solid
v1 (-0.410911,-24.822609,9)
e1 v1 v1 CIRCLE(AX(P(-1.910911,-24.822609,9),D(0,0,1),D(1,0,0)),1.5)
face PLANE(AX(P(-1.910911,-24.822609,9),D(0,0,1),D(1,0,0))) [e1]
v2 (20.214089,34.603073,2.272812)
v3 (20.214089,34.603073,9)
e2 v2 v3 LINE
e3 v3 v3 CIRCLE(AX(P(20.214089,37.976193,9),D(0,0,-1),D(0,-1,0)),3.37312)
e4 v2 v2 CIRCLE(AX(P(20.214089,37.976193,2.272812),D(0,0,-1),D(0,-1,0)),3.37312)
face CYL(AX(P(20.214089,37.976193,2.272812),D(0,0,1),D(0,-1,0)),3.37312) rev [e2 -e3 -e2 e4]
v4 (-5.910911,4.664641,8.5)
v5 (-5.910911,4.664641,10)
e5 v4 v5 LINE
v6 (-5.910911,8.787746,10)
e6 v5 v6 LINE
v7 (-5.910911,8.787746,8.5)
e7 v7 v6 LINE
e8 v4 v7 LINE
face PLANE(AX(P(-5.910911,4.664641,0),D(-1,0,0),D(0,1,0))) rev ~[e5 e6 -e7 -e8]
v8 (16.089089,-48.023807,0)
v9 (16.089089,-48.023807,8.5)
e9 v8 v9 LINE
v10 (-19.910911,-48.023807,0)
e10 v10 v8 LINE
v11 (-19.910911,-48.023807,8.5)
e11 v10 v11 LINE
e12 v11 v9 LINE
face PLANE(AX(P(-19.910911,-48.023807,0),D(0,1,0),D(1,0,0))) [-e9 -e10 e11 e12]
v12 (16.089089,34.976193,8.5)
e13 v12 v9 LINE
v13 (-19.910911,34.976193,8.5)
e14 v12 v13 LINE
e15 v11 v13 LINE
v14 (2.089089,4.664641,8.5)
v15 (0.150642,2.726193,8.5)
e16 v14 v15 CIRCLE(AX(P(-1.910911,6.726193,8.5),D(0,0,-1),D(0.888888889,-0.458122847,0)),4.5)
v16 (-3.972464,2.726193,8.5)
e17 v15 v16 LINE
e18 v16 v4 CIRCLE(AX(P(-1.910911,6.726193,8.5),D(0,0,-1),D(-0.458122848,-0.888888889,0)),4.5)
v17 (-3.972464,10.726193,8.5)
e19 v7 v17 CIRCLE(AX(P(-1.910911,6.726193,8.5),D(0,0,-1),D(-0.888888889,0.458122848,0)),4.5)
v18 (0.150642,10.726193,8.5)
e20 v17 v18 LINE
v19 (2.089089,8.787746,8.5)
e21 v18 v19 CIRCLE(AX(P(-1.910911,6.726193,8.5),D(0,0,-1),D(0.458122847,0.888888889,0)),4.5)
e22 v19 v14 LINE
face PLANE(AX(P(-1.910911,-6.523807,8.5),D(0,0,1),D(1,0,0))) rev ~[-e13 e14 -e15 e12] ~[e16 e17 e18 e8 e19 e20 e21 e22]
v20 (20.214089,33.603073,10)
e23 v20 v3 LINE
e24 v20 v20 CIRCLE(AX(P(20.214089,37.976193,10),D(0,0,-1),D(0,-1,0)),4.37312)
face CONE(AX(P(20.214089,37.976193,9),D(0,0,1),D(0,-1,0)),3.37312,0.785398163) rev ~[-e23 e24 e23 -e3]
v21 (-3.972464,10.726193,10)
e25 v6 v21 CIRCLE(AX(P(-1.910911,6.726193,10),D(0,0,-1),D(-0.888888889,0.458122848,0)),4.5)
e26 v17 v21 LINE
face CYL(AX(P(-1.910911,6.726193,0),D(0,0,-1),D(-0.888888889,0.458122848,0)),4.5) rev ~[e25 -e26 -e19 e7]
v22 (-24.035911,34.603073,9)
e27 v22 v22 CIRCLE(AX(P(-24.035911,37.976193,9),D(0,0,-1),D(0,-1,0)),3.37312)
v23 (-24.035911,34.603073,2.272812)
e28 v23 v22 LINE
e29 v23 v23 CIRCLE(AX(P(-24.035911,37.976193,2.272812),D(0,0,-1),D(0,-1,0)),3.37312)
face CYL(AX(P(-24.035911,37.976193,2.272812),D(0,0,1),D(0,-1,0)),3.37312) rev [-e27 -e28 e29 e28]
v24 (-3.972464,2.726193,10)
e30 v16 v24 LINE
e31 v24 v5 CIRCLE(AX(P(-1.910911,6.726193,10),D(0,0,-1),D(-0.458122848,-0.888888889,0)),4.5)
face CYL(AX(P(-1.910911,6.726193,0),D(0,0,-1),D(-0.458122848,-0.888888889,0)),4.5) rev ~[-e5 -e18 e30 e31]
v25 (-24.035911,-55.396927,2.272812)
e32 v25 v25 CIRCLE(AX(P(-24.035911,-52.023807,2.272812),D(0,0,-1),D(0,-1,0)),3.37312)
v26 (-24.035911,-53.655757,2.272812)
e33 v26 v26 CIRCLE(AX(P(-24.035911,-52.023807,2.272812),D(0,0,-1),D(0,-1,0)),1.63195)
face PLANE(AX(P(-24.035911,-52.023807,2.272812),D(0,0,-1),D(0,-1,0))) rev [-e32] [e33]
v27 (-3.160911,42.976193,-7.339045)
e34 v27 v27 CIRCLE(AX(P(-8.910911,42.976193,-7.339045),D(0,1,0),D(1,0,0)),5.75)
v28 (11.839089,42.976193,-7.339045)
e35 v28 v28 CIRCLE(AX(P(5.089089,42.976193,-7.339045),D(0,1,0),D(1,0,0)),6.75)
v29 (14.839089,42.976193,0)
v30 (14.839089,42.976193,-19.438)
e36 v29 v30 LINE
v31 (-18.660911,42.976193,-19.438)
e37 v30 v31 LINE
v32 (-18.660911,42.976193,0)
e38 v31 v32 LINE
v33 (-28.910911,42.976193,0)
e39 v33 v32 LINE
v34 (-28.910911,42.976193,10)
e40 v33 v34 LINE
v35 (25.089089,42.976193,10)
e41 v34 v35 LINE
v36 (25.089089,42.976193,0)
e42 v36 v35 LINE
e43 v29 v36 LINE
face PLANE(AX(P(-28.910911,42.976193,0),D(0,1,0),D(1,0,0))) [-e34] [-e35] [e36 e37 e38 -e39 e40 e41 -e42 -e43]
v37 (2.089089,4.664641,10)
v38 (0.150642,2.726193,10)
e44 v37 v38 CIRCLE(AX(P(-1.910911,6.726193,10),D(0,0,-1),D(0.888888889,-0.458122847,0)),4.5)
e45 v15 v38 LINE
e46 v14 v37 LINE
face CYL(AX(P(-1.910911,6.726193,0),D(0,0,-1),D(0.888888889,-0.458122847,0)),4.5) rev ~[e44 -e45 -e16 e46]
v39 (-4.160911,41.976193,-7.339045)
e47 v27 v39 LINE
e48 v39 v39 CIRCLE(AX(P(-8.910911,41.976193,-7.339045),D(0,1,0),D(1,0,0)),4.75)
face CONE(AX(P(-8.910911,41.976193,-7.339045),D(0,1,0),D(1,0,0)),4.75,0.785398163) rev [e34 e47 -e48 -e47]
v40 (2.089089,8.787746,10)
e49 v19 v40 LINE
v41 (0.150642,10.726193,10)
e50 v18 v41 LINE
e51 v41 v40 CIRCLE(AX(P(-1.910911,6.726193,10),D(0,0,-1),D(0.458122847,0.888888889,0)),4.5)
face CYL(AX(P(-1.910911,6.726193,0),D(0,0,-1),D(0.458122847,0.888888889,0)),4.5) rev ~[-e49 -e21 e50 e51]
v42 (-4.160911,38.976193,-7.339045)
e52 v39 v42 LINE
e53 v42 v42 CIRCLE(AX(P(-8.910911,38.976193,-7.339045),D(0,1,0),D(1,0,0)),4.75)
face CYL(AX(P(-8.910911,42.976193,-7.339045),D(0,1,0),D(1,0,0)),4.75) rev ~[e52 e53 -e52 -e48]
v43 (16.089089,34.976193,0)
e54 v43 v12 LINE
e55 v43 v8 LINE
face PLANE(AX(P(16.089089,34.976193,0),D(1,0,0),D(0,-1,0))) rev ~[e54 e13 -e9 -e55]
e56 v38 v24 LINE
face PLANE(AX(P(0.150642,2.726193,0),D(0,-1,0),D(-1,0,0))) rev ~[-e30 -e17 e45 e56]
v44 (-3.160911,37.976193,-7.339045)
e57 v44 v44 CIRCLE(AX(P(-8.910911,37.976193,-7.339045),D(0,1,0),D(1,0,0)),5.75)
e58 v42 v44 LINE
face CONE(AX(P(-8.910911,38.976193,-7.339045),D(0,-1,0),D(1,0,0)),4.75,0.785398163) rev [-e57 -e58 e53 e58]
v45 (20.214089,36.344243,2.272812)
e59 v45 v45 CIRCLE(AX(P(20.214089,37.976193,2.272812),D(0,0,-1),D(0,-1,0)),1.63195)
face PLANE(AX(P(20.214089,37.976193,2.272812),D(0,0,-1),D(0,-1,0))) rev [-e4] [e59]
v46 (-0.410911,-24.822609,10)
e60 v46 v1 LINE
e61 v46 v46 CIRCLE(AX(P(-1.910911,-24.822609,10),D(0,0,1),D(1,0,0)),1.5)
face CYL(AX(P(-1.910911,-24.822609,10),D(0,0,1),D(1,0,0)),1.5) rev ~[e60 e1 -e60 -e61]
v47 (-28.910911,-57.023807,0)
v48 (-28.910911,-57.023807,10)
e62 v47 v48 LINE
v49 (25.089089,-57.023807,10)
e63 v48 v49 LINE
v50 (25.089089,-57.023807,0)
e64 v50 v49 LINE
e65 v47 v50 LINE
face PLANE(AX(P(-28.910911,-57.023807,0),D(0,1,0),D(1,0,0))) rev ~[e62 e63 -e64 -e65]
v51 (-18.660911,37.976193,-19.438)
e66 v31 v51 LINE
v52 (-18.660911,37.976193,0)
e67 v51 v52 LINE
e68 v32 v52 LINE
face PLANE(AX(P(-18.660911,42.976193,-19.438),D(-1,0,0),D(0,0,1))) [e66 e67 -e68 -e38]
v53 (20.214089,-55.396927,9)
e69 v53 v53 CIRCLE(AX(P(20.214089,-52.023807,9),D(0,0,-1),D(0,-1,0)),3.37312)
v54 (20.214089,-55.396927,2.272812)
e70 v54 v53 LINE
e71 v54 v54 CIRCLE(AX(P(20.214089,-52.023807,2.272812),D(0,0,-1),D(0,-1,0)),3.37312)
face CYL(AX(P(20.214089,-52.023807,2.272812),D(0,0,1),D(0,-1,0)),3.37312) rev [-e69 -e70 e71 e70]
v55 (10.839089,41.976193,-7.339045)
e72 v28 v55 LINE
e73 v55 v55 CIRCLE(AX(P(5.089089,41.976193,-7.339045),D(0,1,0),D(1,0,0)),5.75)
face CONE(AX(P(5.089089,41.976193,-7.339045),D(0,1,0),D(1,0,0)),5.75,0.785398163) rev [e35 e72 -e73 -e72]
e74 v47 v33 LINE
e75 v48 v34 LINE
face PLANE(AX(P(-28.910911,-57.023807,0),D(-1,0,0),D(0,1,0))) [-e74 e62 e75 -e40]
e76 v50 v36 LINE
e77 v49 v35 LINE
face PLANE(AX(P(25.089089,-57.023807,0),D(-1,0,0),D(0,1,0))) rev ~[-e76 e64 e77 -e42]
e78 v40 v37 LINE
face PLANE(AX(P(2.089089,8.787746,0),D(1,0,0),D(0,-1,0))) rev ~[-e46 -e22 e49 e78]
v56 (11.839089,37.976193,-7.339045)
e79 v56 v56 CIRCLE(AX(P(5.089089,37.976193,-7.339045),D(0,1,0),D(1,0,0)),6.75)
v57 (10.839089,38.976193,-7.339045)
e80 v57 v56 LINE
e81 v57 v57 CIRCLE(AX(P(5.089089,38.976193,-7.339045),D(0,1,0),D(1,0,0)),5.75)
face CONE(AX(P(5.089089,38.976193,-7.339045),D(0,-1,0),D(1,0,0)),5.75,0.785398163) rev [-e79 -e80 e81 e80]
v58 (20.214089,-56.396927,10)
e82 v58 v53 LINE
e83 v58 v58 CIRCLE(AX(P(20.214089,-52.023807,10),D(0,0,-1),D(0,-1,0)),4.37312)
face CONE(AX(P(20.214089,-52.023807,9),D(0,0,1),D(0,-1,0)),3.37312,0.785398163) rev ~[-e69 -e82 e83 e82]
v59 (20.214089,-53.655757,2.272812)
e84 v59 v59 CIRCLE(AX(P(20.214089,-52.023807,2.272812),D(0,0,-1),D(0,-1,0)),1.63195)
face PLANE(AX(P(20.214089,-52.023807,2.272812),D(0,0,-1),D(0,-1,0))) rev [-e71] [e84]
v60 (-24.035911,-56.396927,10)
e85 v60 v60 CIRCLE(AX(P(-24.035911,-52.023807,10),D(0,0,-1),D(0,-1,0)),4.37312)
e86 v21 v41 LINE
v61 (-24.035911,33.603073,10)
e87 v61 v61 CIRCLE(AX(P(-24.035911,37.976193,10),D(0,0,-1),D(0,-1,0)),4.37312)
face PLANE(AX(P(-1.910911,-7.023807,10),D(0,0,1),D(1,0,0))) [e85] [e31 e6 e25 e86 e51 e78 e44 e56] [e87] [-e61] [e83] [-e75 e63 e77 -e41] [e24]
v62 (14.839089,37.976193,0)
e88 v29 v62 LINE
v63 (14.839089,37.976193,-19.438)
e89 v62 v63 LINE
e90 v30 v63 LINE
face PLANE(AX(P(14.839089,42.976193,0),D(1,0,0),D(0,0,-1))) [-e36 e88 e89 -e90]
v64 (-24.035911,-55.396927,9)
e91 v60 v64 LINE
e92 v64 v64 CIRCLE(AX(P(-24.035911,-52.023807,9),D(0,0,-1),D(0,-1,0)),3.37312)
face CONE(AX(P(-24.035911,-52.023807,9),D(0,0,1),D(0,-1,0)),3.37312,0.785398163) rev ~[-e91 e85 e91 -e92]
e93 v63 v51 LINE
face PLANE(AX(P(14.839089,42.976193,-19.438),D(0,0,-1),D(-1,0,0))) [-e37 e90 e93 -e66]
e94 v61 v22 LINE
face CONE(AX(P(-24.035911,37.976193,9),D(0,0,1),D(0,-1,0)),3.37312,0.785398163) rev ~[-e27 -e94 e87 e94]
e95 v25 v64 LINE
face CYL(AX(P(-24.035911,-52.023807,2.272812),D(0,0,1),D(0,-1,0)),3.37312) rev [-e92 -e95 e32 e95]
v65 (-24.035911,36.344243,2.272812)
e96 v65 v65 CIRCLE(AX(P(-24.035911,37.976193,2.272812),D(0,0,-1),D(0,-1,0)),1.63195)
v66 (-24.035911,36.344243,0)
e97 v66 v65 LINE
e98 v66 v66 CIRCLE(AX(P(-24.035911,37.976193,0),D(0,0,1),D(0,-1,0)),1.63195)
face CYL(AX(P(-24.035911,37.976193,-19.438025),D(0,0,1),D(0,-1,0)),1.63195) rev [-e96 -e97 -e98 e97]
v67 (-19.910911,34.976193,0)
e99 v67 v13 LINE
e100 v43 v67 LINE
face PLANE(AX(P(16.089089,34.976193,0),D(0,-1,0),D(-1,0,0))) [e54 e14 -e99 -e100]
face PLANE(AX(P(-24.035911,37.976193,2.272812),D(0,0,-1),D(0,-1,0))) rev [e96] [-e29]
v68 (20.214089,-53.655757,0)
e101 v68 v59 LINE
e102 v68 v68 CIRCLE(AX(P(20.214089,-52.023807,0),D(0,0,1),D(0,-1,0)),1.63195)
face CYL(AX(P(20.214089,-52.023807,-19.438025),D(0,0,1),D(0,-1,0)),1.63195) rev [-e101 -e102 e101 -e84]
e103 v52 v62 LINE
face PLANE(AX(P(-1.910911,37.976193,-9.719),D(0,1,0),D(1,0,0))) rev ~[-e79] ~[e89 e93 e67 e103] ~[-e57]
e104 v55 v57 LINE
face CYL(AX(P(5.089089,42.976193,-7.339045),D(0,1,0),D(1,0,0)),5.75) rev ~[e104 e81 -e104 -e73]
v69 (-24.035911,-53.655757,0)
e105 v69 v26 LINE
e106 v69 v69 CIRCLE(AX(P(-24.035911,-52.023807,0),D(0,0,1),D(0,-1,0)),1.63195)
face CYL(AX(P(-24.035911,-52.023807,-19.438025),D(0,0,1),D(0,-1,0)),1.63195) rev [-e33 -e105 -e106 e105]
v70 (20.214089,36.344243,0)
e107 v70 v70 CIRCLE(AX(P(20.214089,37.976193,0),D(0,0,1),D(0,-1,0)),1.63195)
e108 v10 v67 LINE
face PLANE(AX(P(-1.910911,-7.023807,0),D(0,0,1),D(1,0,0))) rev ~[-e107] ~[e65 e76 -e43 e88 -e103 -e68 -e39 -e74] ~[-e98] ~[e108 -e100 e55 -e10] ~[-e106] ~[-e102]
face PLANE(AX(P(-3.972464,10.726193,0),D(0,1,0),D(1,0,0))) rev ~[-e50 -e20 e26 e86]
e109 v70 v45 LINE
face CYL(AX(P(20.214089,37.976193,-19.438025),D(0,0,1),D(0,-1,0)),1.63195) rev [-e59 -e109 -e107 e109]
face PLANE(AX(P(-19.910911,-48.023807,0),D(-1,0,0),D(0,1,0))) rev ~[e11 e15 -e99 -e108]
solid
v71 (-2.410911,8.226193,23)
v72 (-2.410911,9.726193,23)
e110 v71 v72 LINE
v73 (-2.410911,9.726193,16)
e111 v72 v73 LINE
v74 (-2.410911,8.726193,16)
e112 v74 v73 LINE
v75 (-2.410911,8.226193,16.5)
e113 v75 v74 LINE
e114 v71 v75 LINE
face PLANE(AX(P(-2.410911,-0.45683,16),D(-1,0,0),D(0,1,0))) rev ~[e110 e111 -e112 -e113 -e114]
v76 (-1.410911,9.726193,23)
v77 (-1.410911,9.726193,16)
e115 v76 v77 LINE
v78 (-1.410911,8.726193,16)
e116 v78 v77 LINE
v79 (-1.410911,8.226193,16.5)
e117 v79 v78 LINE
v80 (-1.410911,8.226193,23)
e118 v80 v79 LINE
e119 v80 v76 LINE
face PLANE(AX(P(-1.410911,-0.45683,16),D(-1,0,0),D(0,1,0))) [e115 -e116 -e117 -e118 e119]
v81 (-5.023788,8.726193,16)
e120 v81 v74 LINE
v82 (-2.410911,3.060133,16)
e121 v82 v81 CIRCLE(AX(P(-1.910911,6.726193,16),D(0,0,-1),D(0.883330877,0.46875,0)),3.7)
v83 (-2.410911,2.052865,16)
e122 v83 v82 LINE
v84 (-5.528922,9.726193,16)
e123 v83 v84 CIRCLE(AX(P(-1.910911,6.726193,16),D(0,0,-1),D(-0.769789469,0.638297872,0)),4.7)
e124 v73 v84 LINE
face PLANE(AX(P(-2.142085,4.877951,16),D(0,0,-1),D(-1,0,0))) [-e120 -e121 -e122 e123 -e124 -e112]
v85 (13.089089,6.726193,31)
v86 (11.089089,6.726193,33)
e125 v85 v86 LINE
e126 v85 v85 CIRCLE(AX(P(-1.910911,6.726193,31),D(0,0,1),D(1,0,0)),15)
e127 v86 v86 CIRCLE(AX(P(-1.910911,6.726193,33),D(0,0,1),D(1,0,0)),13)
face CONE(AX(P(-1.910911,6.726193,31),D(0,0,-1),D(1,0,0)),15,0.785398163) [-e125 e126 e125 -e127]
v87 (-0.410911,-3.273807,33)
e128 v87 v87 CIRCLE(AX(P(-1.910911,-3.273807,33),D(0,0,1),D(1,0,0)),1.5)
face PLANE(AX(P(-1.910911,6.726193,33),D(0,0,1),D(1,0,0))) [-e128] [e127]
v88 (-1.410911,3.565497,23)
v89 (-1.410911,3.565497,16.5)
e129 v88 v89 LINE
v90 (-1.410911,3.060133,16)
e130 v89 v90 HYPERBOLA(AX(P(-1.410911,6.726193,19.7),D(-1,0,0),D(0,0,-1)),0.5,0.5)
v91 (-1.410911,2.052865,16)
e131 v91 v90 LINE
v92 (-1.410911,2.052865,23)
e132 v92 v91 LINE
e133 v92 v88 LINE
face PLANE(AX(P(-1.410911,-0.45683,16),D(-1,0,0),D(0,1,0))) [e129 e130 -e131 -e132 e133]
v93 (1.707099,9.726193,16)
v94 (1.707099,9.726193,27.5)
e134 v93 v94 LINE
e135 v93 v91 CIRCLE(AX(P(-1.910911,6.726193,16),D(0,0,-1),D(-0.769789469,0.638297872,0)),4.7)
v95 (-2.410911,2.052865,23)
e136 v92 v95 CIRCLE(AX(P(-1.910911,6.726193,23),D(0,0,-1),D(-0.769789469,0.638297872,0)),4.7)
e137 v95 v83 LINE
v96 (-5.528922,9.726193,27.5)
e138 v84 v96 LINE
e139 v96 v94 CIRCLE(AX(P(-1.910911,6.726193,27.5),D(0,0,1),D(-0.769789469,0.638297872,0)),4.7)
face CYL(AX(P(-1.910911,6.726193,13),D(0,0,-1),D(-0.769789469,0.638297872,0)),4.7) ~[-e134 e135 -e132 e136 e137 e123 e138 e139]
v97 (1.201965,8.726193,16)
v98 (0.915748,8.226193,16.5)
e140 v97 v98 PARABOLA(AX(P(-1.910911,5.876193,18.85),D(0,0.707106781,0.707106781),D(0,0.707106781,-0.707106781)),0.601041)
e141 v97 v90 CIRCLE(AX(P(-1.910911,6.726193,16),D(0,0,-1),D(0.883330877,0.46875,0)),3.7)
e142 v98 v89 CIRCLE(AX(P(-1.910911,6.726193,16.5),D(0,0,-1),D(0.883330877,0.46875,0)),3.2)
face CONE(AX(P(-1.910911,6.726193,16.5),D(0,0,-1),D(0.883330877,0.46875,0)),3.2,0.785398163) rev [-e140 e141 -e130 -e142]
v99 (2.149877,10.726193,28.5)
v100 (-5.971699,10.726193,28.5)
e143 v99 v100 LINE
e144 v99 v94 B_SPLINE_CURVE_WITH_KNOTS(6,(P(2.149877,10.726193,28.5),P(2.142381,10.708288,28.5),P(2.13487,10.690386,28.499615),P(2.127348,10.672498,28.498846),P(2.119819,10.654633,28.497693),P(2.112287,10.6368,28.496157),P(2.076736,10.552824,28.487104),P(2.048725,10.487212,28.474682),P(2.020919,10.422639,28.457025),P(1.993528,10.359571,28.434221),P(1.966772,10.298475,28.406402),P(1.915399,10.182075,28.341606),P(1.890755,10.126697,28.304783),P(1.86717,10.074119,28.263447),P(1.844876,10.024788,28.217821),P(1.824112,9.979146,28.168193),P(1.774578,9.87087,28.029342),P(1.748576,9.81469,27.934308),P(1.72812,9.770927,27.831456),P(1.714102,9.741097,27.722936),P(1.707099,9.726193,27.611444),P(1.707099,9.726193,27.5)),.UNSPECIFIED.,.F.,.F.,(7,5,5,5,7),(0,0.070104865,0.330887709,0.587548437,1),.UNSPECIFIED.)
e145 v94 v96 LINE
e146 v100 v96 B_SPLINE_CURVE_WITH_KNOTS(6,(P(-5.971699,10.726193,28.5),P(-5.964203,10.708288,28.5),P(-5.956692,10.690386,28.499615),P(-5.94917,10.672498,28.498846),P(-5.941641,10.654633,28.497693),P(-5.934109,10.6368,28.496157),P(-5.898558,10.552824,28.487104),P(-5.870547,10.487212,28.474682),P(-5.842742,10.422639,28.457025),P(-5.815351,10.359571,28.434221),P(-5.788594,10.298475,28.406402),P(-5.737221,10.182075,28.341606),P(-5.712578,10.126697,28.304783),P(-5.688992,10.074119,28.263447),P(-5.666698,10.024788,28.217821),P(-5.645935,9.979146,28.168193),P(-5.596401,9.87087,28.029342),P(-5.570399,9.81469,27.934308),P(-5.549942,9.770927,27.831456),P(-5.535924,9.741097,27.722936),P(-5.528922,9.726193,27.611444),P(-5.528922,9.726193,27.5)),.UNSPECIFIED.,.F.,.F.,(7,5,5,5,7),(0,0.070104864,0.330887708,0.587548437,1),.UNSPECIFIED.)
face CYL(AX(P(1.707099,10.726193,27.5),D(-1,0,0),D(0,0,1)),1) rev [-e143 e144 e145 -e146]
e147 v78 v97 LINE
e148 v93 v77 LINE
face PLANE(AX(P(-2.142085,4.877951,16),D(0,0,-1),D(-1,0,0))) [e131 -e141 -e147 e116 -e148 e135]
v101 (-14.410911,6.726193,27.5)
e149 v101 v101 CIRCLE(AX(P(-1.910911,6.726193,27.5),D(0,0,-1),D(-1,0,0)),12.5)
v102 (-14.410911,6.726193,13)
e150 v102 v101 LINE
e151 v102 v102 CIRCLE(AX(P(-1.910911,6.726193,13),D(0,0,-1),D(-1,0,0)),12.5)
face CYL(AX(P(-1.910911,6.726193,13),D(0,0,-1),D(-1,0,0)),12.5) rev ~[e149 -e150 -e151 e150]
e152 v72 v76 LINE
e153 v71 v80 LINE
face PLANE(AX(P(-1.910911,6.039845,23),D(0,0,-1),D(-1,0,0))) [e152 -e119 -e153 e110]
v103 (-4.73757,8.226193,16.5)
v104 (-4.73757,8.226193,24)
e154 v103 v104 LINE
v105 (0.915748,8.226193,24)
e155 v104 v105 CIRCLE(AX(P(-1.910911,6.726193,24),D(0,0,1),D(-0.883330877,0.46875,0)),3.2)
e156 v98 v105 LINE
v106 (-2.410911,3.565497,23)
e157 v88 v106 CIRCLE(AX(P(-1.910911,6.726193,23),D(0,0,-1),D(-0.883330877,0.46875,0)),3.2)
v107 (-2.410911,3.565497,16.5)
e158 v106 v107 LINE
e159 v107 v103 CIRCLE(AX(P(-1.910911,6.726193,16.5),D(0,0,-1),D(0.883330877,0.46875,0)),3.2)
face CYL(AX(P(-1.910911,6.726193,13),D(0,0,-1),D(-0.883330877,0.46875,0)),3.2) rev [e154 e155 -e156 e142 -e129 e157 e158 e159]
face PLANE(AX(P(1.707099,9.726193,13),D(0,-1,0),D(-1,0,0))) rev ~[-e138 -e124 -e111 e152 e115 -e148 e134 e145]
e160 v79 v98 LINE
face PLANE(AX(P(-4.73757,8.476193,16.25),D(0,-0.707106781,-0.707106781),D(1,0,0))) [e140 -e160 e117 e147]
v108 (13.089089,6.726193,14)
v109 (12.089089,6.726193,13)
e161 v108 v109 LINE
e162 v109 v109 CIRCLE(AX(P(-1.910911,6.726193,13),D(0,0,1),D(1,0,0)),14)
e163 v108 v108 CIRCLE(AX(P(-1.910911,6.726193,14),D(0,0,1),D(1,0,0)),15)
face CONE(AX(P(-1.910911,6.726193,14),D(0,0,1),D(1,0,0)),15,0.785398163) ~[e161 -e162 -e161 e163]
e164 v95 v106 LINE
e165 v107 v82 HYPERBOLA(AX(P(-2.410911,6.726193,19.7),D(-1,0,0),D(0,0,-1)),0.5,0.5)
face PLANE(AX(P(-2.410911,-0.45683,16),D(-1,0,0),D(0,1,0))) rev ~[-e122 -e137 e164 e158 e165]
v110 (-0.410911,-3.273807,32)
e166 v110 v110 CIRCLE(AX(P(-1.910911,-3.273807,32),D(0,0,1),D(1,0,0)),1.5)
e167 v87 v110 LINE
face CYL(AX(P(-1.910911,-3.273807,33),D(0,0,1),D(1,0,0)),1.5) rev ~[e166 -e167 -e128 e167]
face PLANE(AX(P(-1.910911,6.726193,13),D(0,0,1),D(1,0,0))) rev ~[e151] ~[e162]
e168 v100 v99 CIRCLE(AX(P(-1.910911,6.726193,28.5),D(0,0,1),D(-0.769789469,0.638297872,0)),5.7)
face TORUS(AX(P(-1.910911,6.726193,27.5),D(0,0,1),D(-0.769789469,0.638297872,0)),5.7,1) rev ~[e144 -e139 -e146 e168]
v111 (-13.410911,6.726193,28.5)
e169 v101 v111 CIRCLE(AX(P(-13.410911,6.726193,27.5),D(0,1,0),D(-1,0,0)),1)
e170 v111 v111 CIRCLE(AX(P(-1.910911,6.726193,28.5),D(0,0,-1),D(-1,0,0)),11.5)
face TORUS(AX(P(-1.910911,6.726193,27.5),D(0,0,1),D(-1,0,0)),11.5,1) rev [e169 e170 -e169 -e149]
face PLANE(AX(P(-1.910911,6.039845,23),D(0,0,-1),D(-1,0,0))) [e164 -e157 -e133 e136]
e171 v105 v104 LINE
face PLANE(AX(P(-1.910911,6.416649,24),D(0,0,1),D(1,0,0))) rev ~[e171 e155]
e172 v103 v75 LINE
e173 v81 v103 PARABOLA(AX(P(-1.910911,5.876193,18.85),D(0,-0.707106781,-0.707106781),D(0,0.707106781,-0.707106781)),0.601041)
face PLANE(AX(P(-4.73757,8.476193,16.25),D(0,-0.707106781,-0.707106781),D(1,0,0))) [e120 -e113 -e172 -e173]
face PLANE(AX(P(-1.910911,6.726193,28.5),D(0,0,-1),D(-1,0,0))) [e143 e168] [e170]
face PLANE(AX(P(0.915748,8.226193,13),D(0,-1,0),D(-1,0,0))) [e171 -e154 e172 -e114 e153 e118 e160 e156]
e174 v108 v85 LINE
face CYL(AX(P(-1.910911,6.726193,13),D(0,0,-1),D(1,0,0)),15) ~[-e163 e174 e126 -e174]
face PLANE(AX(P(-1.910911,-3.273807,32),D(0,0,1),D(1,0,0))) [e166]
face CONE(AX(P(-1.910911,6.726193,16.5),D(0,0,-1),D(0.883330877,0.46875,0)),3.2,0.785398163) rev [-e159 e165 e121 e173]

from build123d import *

# Parameters (mm, degrees)
SKETCH1_W                                   = 54
SKETCH1_H                                   = 100
BOSS_EXTRUDE1_DEPTH                         = 10
SKETCH2_R                                   = 15
BOSS_EXTRUDE2_DEPTH                         = 20
CUT_EXTRUDE1_DEPTH                          = 11
CHAMFER1_SIZE                               = 2
SKETCH5_R                                   = 1.5
CUT_EXTRUDE2_DEPTH                          = 1
CHAMFER2_SIZE                               = 1
SKETCH6_R                                   = 12.5
CUT_EXTRUDE3_DEPTH                          = 15.5
FILLET1_R                                   = 1
SKETCH7_R                                   = 1.5
CUT_EXTRUDE4_DEPTH                          = 1
BOSS_EXTRUDE3_DEPTH                         = 5
CBORE_FOR_4_BINDING_HEAD_MACHINE_SC_2_COUNT = 2
CBORE_FOR_4_BINDING_HEAD_MACHINE_SC_2_PITCH = 44.25
CBORE_FOR_4_BINDING_HEAD_MACHINE_SC_3_COUNT = 2
CBORE_FOR_4_BINDING_HEAD_MACHINE_SC_3_PITCH = 100.289892312
CBORE_FOR_4_BINDING_HEAD_MACHINE_SC_4_COUNT = 2
CBORE_FOR_4_BINDING_HEAD_MACHINE_SC_4_PITCH = 90
SKETCH11_R                                  = 5.75
SKETCH11_R_2                                = 4.75
CUT_EXTRUDE5_DEPTH                          = 5
CHAMFER4_SIZE                               = 1
CUT_EXTRUDE6_DEPTH                          = 8.5
CHAMFER6_SIZE                               = 1
SKETCH13_W                                  = 11.7943465
SKETCH13_H                                  = 9.696483865
CUT_EXTRUDE7_DEPTH                          = 3
CHAMFER7_SIZE                               = 0.5
SKETCH14_W                                  = 1
SKETCH14_H                                  = 12.993349563
CUT_EXTRUDE8_DEPTH                          = 7


with BuildPart() as part:
    # Sketch1 → Boss-Extrude1 (new body)
    with BuildSketch(Plane.XY):
        with Locations((-1.910911092, -7.023806668)):
            Rectangle(SKETCH1_W, SKETCH1_H)
        with BuildLine():
            Line((-3.972463905, 10.726193332), (0.150641721, 10.726193332))
            ThreePointArc((0.150641721, 10.726193332), (1.271069424, 9.908173847), (2.089088908, 8.787746145))
            Line((2.089088908, 8.787746145), (2.089088908, 4.664640519))
            ThreePointArc((2.089088908, 4.664640519), (1.271069424, 3.544212817), (0.150641721, 2.726193332))
            Line((0.150641721, 2.726193332), (-3.972463905, 2.726193332))
            ThreePointArc((-3.972463905, 2.726193332), (-5.092891607, 3.544212817), (-5.910911092, 4.664640519))
            Line((-5.910911092, 4.664640519), (-5.910911092, 8.787746145))
            ThreePointArc((-5.910911092, 8.787746145), (-5.092891607, 9.908173847), (-3.972463905, 10.726193332))
        make_face(mode=Mode.SUBTRACT)
    extrude(amount=BOSS_EXTRUDE1_DEPTH)

    # Sketch7 → Cut-Extrude4 (cut)
    with BuildSketch(Plane.XY.offset(10)):
        with Locations((-1.910911092, -24.822609261)):
            Circle(SKETCH7_R)
    extrude(amount=-CUT_EXTRUDE4_DEPTH, mode=Mode.SUBTRACT)

    # Sketch8 → Boss-Extrude3 (add)
    with BuildSketch(Plane(origin=(0, 42.976193332, 0), x_dir=(1, 0, 0), z_dir=(0, 1, 0))):
        Polygon((-18.660911092, 0.5), (-18.660911092, 0), (14.839088908, 0), (14.839088908, 0.5), (14.839088908, 19.438), (-18.660911092, 19.438), align=None)
    extrude(amount=-BOSS_EXTRUDE3_DEPTH)

    # Sketch9 → CBORE for #4 Binding Head Machine Screw1 (revolve, cut)
    with BuildSketch(Plane(origin=(20.214088908, -52.023806668, 10), x_dir=(0, -1, 0), z_dir=(1, 0, 0))):
        Polygon((0, 0), (0, 29.438025), (1.63195, 29.438025), (1.63195, 7.727188), (3.37312, 7.727188), (3.37312, 0), align=None)
    cbore_for_4_binding_head_machine_screw1 = revolve(axis=Axis((20.214088908, -52.023806668, 16.35), (0, 0, -1)), mode=Mode.SUBTRACT)

    # CBORE for _4 Binding Head Machine Sc 2: CBORE for #4 Binding Head Machine Screw1 ×2
    with Locations(*[(-i * CBORE_FOR_4_BINDING_HEAD_MACHINE_SC_2_PITCH, 0, 0) for i in range(1, CBORE_FOR_4_BINDING_HEAD_MACHINE_SC_2_COUNT)]):
        add(cbore_for_4_binding_head_machine_screw1, mode=Mode.SUBTRACT)

    # CBORE for _4 Binding Head Machine Sc 3: CBORE for #4 Binding Head Machine Screw1 ×2
    with Locations(*[Vector(-0.441220934, 0.897398511, 0) * (i * CBORE_FOR_4_BINDING_HEAD_MACHINE_SC_3_PITCH) for i in range(1, CBORE_FOR_4_BINDING_HEAD_MACHINE_SC_3_COUNT)]):
        add(cbore_for_4_binding_head_machine_screw1, mode=Mode.SUBTRACT)

    # CBORE for _4 Binding Head Machine Sc 4: CBORE for #4 Binding Head Machine Screw1 ×2
    with Locations(*[(0, i * CBORE_FOR_4_BINDING_HEAD_MACHINE_SC_4_PITCH, 0) for i in range(1, CBORE_FOR_4_BINDING_HEAD_MACHINE_SC_4_COUNT)]):
        add(cbore_for_4_binding_head_machine_screw1, mode=Mode.SUBTRACT)

    # Sketch11 → Cut-Extrude5 (cut)
    with BuildSketch(Plane(origin=(0, 42.976193332, 0), x_dir=(1, 0, 0), z_dir=(0, 1, 0))):
        with Locations((5.089088908, 7.339044891)):
            Circle(SKETCH11_R)
        with Locations((-8.910911092, 7.339044891)):
            Circle(SKETCH11_R_2)
    extrude(amount=-CUT_EXTRUDE5_DEPTH, mode=Mode.SUBTRACT)

    # Chamfer4
    chamfer4_edges = [part.edges().sort_by_distance(p)[0] for p in [
        (-13.660911092, 42.976193332, -7.339044891),
        (-13.660911092, 37.976193332, -7.339044891),
        (-0.660911092, 42.976193332, -7.339044891),
        (-0.660911092, 37.976193332, -7.339044891),
    ]]
    chamfer(chamfer4_edges, length=CHAMFER4_SIZE)

    # Sketch12 → Cut-Extrude6 (cut)
    with BuildSketch(Plane(origin=(0, 0, 0), x_dir=(-1, 0, 0), z_dir=(0, 0, -1))):
        Polygon((-16.089088908, 28.976193332), (-16.089088908, 34.976193332), (19.910911092, 34.976193332), (19.910911092, 28.976193332), (19.910911092, -48.023806668), (-16.089088908, -48.023806668), align=None)
    extrude(amount=-CUT_EXTRUDE6_DEPTH, mode=Mode.SUBTRACT)

    # Chamfer6
    chamfer6_edges = [part.edges().sort_by_distance(p)[0] for p in [
        (20.214088908, 41.349313332, 10),
        (-24.035911092, 41.349313332, 10),
        (-24.035911092, -48.650686668, 10),
        (20.214088908, -48.650686668, 10),
    ]]
    chamfer(chamfer6_edges, length=CHAMFER6_SIZE)


with BuildPart() as body_2:
    # Sketch2 → Boss-Extrude2 (new body)
    with BuildSketch(Plane.XY.offset(13)):
        with Locations((-1.910911092, 6.726193332)):
            Circle(SKETCH2_R)
    extrude(amount=BOSS_EXTRUDE2_DEPTH)

    # Sketch2<3> → Cut-Extrude1 (cut)
    with BuildSketch(Plane.XY.offset(13)):
        with BuildLine():
            Line((0.915747713, 8.226193332), (-4.737569897, 8.226193332))
            ThreePointArc((-4.737569897, 8.226193332), (-1.910911092, 3.526193332), (0.915747713, 8.226193332))
        make_face()
    extrude(amount=CUT_EXTRUDE1_DEPTH, mode=Mode.SUBTRACT)

    # Chamfer1
    chamfer1_edges = [body_2.edges().sort_by_distance(p)[0] for p in [
        (-16.910911092, 6.726193332, 33),
    ]]
    chamfer(chamfer1_edges, length=CHAMFER1_SIZE)

    # Sketch5 → Cut-Extrude2 (cut)
    with BuildSketch(Plane.XY.offset(33)):
        with Locations((-1.910911092, -3.273806668)):
            Circle(SKETCH5_R)
    extrude(amount=-CUT_EXTRUDE2_DEPTH, mode=Mode.SUBTRACT)

    # Chamfer2
    chamfer2_edges = [body_2.edges().sort_by_distance(p)[0] for p in [
        (-16.910911092, 6.726193332, 13),
        (-1.910911092, 8.226193332, 13),
        (-1.910911092, 3.526193332, 13),
    ]]
    chamfer(chamfer2_edges, length=CHAMFER2_SIZE)

    # Sketch6 → Cut-Extrude3 (cut)
    with BuildSketch(Plane(origin=(0, 0, 13), x_dir=(-1, 0, 0), z_dir=(0, 0, -1))):
        with Locations((1.910911092, 6.726193332)):
            Circle(SKETCH6_R)
        with BuildLine():
            Line((-1.707099411, 9.726193332), (5.528921595, 9.726193332))
            ThreePointArc((5.528921595, 9.726193332), (1.910911092, 2.026193332), (-1.707099411, 9.726193332))
        make_face(mode=Mode.SUBTRACT)
    extrude(amount=-CUT_EXTRUDE3_DEPTH, mode=Mode.SUBTRACT)

    # Fillet1
    fillet1_edges = [body_2.edges().sort_by_distance(p)[0] for p in [
        (10.589088908, 6.726193332, 28.5),
        (-1.910911092, 9.726193332, 28.5),
        (-1.910911092, 2.026193332, 28.5),
    ]]
    fillet(fillet1_edges, radius=FILLET1_R)

    # Sketch13 → Cut-Extrude7 (cut)
    with BuildSketch(Plane(origin=(0, 0, 13), x_dir=(-1, 0, 0), z_dir=(0, 0, -1))):
        with Locations((2.142085077, 4.8779514)):
            Rectangle(SKETCH13_W, SKETCH13_H)
    extrude(amount=-CUT_EXTRUDE7_DEPTH, mode=Mode.SUBTRACT)

    # Chamfer7
    chamfer7_edges = [body_2.edges().sort_by_distance(p)[0] for p in [
        (-1.910911092, 8.226193332, 16),
        (-1.910911092, 3.526193332, 16),
    ]]
    chamfer(chamfer7_edges, length=CHAMFER7_SIZE)

    # Sketch14 → Cut-Extrude8 (cut)
    with BuildSketch(Plane(origin=(0, 0, 16), x_dir=(-1, 0, 0), z_dir=(0, 0, -1))):
        with Locations((1.910911092, 6.039844616)):
            Rectangle(SKETCH14_W, SKETCH14_H)
    extrude(amount=-CUT_EXTRUDE8_DEPTH, mode=Mode.SUBTRACT)


solid = Compound([part.part, body_2.part])
